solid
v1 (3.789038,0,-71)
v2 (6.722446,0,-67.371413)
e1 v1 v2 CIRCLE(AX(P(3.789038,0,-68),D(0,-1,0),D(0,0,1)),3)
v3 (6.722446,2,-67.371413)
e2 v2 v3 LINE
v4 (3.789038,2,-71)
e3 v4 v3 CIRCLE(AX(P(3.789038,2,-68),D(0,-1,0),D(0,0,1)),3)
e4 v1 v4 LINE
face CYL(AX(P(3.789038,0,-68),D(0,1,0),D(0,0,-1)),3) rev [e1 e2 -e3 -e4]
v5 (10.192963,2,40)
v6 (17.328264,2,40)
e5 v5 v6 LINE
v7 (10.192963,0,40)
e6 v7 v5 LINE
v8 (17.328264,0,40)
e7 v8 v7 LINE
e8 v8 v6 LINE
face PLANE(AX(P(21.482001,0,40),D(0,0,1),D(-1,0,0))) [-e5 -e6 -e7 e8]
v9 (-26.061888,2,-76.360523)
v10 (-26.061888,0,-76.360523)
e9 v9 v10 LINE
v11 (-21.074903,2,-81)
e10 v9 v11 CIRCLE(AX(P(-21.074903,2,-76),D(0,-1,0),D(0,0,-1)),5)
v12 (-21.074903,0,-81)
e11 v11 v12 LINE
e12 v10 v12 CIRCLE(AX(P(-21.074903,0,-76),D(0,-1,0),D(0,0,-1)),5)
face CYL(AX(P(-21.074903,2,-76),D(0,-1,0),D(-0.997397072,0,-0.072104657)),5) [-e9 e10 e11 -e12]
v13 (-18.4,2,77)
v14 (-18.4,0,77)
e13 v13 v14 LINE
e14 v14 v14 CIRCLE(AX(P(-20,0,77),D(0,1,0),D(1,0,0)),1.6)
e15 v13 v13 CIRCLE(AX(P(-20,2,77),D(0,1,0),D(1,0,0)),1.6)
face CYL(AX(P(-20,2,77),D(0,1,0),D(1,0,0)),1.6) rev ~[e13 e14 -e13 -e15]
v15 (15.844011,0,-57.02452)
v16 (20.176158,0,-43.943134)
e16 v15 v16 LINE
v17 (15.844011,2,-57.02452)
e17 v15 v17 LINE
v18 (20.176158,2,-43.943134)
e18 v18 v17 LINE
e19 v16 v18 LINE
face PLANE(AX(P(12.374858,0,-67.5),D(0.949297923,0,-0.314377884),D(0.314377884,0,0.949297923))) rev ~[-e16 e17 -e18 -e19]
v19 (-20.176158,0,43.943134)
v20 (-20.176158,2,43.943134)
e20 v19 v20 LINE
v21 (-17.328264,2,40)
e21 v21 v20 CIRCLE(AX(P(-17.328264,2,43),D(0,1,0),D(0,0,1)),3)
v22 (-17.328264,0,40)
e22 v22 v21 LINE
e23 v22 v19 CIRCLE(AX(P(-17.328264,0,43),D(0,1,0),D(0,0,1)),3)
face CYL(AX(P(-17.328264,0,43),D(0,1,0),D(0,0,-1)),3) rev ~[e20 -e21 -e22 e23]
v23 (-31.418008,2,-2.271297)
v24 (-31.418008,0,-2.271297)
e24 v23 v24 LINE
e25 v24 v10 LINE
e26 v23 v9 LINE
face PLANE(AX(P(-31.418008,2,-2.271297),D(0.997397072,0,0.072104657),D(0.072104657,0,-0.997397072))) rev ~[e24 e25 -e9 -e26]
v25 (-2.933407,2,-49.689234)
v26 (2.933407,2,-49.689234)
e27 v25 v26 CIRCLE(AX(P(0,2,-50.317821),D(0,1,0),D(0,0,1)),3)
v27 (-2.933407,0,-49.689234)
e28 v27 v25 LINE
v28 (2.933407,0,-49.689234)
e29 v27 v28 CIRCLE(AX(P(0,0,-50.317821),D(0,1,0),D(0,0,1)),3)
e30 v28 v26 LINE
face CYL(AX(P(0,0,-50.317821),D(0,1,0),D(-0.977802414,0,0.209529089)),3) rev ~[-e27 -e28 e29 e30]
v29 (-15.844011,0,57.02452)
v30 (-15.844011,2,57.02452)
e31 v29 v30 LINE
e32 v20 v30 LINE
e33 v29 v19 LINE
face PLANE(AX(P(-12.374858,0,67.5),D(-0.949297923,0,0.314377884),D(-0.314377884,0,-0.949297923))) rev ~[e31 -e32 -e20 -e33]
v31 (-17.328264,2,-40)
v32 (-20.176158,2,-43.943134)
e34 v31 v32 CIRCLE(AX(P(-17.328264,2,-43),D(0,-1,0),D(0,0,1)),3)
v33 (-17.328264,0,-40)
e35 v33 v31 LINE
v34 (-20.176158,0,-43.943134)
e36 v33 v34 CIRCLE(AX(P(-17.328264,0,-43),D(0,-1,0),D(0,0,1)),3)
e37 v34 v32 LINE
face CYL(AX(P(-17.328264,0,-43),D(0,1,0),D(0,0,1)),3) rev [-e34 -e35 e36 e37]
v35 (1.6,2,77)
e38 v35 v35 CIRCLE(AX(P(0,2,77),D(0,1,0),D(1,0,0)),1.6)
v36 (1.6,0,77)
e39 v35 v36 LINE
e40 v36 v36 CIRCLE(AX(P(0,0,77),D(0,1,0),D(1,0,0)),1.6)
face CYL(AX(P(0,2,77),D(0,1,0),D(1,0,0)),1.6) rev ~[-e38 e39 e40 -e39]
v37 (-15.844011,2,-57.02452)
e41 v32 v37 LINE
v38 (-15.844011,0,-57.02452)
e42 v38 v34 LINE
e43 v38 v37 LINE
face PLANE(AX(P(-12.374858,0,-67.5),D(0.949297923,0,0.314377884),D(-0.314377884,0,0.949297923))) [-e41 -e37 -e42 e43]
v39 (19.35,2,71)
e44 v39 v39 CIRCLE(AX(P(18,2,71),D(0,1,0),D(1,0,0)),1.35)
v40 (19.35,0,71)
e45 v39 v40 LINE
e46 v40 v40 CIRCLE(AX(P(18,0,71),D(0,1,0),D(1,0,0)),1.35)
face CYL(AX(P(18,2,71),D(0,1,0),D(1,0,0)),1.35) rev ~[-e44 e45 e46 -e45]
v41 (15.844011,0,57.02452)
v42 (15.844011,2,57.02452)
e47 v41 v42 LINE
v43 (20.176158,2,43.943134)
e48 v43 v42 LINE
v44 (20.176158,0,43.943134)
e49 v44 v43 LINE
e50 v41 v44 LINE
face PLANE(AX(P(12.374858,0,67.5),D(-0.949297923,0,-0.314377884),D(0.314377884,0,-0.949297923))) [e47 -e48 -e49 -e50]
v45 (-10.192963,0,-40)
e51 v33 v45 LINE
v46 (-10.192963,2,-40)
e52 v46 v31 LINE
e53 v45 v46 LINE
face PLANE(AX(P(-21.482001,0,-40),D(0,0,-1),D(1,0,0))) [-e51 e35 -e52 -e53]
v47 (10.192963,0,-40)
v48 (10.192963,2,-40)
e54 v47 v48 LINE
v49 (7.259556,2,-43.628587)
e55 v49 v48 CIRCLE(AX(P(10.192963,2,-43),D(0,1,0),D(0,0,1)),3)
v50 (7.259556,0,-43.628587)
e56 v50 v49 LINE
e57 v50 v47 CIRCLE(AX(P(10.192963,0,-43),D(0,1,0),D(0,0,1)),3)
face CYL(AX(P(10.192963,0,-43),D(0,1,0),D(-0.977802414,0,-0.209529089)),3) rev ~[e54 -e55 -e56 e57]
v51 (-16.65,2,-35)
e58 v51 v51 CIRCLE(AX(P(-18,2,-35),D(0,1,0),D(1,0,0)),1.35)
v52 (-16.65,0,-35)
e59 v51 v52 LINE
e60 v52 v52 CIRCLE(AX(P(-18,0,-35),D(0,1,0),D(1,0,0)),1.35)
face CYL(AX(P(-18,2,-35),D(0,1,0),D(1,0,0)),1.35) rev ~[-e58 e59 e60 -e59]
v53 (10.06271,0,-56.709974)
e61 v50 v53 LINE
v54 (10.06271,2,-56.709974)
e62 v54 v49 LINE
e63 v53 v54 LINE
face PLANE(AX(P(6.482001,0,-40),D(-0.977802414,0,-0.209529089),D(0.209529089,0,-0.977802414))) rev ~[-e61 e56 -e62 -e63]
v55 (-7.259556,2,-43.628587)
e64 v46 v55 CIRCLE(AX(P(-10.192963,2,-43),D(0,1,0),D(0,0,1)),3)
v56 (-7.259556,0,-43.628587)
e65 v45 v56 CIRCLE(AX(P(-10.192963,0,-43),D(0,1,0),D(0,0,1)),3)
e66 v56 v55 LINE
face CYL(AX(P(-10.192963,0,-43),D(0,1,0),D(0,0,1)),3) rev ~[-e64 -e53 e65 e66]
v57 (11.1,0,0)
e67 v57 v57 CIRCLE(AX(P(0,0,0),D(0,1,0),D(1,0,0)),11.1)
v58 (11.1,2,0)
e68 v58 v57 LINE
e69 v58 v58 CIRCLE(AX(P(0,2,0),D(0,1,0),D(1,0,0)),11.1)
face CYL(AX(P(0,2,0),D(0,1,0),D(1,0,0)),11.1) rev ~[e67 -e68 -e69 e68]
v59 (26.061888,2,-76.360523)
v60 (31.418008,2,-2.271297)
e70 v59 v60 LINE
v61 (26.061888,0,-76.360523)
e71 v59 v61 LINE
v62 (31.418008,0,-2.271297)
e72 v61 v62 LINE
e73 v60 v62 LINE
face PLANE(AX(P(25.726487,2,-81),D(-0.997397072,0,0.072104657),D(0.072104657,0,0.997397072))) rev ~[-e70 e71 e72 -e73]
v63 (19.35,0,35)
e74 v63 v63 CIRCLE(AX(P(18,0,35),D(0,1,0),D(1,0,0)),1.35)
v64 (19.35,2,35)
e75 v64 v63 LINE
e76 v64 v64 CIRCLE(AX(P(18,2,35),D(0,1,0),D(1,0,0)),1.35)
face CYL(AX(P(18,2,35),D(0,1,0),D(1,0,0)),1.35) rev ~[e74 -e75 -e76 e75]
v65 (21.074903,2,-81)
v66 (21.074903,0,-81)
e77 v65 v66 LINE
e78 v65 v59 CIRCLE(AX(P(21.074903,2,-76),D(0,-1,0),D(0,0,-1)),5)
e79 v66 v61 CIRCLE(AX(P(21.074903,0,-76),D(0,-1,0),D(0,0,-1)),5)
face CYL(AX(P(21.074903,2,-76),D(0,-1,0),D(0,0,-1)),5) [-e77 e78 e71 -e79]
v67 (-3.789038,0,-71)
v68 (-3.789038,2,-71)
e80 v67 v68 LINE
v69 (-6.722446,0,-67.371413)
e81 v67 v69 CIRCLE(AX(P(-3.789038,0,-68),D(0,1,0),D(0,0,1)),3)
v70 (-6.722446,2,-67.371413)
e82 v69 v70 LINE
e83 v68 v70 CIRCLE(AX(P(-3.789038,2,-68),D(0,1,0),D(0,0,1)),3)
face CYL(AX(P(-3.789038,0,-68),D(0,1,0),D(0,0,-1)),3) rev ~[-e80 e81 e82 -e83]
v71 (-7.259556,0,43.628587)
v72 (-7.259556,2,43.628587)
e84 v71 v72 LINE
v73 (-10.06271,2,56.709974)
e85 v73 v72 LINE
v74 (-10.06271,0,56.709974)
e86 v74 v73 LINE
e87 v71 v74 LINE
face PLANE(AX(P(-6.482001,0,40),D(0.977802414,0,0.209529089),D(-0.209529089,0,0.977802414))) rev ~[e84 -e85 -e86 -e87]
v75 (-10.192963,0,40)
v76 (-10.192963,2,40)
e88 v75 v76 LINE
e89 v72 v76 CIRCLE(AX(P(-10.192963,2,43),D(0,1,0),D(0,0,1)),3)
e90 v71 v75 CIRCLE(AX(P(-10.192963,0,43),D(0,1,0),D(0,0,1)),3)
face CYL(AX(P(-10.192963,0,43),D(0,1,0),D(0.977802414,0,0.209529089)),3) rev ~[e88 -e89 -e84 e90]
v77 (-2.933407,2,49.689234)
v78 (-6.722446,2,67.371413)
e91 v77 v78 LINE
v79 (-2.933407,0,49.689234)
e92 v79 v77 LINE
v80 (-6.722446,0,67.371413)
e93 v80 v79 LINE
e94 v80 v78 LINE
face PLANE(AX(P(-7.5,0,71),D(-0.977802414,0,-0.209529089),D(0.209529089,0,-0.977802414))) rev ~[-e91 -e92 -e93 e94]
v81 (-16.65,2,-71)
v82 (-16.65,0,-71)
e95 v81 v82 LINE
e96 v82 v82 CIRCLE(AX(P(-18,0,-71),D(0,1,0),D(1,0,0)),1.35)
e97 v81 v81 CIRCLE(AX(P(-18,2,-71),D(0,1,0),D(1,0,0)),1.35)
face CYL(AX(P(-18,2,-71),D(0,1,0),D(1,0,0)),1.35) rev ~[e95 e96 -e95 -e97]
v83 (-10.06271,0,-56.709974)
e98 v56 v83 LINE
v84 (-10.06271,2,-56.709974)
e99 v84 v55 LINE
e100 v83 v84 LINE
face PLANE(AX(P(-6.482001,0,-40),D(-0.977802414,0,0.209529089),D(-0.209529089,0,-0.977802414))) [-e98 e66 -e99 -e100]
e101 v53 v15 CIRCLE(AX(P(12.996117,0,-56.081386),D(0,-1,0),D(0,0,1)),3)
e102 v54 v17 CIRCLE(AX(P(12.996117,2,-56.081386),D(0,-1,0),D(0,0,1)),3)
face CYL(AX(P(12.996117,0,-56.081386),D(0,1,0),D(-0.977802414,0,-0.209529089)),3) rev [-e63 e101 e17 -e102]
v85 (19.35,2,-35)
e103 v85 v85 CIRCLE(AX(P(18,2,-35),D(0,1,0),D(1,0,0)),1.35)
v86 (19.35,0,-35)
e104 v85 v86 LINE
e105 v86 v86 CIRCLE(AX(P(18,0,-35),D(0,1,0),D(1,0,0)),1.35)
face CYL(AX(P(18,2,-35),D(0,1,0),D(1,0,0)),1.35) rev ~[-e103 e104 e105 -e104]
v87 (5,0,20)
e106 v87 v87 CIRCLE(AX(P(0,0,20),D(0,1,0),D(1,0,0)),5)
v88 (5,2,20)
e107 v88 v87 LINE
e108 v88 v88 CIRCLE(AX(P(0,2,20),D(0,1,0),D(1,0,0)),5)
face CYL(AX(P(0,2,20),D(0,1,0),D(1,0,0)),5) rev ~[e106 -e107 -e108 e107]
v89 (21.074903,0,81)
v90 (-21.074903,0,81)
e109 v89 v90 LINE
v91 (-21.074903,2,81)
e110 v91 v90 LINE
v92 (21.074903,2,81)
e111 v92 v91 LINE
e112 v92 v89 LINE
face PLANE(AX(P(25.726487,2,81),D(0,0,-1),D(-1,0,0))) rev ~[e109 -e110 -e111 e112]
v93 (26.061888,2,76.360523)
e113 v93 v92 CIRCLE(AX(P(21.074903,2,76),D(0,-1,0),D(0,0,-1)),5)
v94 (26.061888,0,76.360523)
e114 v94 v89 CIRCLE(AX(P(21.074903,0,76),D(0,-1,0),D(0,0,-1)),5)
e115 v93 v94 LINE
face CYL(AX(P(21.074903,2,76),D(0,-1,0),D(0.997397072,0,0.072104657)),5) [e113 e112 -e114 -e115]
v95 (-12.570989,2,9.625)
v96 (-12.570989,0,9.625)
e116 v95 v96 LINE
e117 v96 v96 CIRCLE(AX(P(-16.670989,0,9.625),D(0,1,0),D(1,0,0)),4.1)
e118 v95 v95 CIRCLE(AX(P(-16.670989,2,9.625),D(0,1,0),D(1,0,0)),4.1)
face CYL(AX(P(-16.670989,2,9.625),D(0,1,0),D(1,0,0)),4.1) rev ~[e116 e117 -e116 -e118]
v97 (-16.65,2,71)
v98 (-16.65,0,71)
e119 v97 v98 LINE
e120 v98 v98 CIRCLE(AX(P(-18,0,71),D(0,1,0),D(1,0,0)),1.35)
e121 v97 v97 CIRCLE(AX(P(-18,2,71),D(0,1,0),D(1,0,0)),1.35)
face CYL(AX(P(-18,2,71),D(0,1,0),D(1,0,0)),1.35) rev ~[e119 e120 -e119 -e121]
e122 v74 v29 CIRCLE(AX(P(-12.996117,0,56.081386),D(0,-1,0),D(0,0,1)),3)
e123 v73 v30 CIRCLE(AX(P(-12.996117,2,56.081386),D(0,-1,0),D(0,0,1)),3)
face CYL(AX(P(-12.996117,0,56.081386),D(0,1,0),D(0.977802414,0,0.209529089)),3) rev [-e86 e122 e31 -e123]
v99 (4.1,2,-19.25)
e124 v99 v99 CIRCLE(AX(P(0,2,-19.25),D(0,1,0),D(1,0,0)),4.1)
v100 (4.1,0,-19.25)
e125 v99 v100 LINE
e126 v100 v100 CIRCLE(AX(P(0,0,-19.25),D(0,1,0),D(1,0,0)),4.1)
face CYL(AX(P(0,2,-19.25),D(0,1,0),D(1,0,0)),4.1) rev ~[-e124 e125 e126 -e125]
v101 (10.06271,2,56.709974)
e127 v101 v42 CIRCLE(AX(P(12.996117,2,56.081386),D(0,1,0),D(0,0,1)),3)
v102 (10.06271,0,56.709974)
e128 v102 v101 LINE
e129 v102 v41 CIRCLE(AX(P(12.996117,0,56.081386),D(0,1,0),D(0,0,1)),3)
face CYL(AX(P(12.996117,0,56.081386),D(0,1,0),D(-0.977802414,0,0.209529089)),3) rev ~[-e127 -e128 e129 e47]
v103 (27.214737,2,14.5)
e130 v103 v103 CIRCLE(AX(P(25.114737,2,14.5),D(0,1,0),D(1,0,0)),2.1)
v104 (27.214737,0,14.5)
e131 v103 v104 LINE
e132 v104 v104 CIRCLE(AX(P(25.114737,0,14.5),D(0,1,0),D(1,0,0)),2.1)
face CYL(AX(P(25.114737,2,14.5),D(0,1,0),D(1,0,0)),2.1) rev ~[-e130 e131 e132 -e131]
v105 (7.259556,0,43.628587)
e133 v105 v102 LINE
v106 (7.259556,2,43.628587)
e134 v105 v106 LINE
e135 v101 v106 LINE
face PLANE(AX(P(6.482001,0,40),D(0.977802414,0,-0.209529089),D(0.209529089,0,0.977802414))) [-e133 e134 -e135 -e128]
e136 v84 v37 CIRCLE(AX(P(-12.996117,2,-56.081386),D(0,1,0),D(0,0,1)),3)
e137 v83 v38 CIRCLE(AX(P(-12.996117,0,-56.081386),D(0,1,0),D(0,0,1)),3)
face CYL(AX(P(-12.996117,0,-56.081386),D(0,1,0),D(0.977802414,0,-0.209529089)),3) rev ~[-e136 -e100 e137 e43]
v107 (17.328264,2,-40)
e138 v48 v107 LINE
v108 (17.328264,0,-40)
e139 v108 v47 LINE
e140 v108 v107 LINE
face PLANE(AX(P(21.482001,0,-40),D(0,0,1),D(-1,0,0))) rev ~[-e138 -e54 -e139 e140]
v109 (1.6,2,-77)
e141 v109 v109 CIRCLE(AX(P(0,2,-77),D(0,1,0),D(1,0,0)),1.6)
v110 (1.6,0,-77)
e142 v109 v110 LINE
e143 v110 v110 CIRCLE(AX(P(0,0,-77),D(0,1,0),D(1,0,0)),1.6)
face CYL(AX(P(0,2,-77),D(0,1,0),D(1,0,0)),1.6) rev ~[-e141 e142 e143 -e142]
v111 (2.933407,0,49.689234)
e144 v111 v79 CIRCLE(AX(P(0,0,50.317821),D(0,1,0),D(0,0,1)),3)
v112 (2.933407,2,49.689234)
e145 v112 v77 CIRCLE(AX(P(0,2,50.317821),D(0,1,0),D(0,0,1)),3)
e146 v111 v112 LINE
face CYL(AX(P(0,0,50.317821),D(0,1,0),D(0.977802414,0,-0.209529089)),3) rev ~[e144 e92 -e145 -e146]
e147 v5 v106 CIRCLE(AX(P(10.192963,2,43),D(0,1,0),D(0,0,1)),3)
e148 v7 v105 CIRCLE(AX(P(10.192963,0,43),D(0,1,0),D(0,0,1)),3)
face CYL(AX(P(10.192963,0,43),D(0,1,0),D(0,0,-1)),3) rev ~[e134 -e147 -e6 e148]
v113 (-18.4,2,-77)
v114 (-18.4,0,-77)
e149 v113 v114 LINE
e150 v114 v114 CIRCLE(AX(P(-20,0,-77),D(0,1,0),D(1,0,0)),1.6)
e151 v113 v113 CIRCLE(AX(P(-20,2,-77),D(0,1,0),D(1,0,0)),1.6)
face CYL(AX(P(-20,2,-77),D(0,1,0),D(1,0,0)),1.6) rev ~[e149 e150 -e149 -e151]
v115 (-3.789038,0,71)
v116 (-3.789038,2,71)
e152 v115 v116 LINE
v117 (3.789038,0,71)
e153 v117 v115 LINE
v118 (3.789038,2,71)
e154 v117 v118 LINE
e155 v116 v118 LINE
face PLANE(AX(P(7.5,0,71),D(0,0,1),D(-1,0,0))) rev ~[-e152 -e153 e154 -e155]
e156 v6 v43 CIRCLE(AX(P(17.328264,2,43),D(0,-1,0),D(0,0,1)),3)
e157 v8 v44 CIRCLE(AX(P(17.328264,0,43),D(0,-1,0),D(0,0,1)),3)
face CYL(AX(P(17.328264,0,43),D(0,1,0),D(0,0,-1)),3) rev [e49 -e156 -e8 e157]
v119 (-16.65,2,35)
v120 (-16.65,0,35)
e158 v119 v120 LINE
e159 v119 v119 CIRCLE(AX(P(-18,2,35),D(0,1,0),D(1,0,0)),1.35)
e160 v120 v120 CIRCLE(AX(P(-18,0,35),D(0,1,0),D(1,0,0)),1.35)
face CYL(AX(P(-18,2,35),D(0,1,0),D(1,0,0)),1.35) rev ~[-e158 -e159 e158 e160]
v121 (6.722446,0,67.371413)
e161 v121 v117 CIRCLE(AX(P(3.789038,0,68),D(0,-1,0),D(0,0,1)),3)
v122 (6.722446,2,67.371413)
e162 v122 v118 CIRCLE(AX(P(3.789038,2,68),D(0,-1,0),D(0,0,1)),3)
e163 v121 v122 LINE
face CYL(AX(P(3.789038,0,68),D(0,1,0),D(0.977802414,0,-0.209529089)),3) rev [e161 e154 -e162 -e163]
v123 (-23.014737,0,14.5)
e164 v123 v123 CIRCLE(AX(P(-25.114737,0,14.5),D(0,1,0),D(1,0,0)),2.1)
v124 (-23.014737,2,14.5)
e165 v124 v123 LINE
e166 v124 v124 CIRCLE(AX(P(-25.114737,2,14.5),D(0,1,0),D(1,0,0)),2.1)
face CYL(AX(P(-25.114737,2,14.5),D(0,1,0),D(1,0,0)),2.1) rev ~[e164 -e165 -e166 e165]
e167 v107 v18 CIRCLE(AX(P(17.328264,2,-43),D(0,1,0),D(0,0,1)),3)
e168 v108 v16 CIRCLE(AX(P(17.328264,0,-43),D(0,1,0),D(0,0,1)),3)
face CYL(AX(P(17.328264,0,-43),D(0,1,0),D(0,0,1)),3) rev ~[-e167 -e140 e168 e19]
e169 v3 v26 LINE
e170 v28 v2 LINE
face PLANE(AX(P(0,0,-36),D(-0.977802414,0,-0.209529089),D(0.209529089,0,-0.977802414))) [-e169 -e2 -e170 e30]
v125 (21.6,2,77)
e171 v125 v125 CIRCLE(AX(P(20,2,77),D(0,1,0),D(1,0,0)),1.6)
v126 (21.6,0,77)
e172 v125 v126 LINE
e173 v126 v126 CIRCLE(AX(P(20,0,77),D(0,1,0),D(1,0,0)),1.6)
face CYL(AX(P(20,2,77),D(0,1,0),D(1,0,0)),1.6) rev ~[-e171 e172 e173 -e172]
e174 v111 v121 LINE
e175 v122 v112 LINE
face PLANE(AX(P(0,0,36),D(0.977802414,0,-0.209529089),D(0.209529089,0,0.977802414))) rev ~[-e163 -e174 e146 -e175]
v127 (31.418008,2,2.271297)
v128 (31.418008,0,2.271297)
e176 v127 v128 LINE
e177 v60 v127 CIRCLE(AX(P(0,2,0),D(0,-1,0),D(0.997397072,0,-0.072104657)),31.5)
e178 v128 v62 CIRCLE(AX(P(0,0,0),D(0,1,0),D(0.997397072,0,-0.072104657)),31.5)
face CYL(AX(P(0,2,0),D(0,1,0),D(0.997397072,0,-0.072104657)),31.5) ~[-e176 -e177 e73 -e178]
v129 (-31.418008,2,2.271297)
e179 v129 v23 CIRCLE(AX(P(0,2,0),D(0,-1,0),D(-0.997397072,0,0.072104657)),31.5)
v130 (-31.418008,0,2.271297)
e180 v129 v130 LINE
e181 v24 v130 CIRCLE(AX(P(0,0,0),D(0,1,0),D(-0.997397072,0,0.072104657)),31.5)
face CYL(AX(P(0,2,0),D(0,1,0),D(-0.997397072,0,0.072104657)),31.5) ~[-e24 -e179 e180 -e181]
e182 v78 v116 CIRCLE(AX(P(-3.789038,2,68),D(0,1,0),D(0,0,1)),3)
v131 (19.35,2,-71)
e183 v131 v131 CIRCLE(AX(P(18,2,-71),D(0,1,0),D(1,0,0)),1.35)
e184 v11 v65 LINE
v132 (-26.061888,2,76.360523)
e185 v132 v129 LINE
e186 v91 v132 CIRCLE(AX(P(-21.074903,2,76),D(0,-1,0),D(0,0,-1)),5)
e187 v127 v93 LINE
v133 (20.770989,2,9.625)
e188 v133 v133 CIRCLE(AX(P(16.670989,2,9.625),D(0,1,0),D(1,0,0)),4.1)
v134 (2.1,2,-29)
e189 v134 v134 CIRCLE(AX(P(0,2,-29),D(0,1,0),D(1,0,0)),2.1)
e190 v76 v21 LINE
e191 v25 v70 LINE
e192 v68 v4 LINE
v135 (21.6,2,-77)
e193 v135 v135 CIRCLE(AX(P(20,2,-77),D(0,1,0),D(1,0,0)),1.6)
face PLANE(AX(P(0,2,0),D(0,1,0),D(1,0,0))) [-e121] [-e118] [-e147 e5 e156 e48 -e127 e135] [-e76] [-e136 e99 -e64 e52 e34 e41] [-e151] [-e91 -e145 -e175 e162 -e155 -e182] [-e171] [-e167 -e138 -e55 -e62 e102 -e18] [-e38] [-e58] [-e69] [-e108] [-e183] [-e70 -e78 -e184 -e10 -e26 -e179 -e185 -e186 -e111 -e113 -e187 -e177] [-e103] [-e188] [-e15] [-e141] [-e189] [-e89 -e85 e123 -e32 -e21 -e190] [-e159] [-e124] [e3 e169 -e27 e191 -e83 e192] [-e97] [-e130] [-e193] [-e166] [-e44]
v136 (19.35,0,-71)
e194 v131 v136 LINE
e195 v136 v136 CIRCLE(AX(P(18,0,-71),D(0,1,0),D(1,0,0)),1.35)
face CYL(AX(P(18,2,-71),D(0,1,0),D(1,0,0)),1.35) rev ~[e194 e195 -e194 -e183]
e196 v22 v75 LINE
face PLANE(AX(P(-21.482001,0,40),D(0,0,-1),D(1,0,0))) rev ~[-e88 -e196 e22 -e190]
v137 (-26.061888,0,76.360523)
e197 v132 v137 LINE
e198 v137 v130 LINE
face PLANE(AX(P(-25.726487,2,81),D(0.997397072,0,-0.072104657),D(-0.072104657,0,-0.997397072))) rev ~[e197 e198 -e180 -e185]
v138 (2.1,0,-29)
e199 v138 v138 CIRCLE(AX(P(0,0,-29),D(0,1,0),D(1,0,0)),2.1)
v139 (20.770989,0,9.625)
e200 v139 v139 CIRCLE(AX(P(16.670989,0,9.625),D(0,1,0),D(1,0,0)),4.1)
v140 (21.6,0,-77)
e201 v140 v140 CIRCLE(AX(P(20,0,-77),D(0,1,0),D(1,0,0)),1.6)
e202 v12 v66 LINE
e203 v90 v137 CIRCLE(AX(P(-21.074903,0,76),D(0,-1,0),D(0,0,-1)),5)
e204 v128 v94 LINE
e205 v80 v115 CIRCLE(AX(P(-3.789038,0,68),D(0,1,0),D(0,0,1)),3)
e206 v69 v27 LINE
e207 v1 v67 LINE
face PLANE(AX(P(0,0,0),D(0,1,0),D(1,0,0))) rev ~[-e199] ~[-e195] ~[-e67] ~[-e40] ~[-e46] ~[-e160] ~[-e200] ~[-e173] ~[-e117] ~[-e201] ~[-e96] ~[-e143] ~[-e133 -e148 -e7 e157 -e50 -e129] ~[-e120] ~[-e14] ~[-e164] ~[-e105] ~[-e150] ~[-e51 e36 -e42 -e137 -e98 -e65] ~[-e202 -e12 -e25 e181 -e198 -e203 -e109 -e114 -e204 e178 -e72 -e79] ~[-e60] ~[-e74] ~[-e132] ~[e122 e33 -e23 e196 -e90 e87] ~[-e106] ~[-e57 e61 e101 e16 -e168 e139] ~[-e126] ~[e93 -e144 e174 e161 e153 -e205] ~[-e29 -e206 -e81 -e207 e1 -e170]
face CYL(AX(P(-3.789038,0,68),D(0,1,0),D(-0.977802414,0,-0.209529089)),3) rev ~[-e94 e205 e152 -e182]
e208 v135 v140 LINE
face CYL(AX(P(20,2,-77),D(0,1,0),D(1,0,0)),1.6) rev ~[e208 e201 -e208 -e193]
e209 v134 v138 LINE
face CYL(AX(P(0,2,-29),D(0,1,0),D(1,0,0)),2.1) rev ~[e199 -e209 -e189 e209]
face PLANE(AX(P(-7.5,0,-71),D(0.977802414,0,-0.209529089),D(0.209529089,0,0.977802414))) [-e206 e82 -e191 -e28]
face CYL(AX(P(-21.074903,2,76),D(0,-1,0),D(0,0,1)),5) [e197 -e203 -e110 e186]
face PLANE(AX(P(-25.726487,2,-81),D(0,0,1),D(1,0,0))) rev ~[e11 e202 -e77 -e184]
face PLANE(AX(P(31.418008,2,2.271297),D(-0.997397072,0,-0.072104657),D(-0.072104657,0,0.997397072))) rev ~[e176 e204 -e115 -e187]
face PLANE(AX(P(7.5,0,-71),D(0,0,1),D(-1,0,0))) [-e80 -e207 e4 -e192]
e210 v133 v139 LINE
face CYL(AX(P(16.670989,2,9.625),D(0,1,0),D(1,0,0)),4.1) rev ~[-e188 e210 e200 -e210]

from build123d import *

# Parameters (mm, degrees)
SKETCH_1_W          = 150
SKETCH_1_H          = 180
SKETCH_1_R          = 2.1
EXTRUDE_1_DEPTH     = 2
SKETCH_2_R          = 11.1
SKETCH_2_R_2        = 2.1
SKETCH_2_R_3        = 4.1
SKETCH_2_R_4        = 5
CUT_EXTRUDE_1_DEPTH = 2
SKETCH_3_R          = 1.6
CUT_EXTRUDE_2_DEPTH = 3
SKETCH_4_W          = 150
SKETCH_4_H          = 180
CUT_EXTRUDE_3_DEPTH = 3
FILLET_1_R          = 5
SKETCH_7_R          = 1.35
CUT_EXTRUDE_5_DEPTH = 3
CUT_EXTRUDE_6_DEPTH = 3
FILLET_2_R          = 3


with BuildPart() as part:
    # 草图1 → 凸台-拉伸1 (new body)
    with BuildSketch(Plane(origin=(0, 0, 0), x_dir=(1, 0, 0), z_dir=(0, 1, 0))):
        Rectangle(SKETCH_1_W, SKETCH_1_H)
        with Locations((-70, 85)):
            Circle(SKETCH_1_R, mode=Mode.SUBTRACT)
        with Locations((-50, 85)):
            Circle(SKETCH_1_R, mode=Mode.SUBTRACT)
        with Locations((-50, 65)):
            Circle(SKETCH_1_R, mode=Mode.SUBTRACT)
        with Locations((-70, 65)):
            Circle(SKETCH_1_R, mode=Mode.SUBTRACT)
        with Locations((70, 65)):
            Circle(SKETCH_1_R, mode=Mode.SUBTRACT)
        with Locations((50, 65)):
            Circle(SKETCH_1_R, mode=Mode.SUBTRACT)
        with Locations((50, 85)):
            Circle(SKETCH_1_R, mode=Mode.SUBTRACT)
        with Locations((70, 85)):
            Circle(SKETCH_1_R, mode=Mode.SUBTRACT)
        with Locations((70, -85)):
            Circle(SKETCH_1_R, mode=Mode.SUBTRACT)
        with Locations((50, -85)):
            Circle(SKETCH_1_R, mode=Mode.SUBTRACT)
        with Locations((50, -65)):
            Circle(SKETCH_1_R, mode=Mode.SUBTRACT)
        with Locations((70, -65)):
            Circle(SKETCH_1_R, mode=Mode.SUBTRACT)
        with Locations((-70, -65)):
            Circle(SKETCH_1_R, mode=Mode.SUBTRACT)
        with Locations((-50, -65)):
            Circle(SKETCH_1_R, mode=Mode.SUBTRACT)
        with Locations((-50, -85)):
            Circle(SKETCH_1_R, mode=Mode.SUBTRACT)
        with Locations((-70, -85)):
            Circle(SKETCH_1_R, mode=Mode.SUBTRACT)
    extrude(amount=EXTRUDE_1_DEPTH)

    # 草图2 → 切除-拉伸1 (cut)
    with BuildSketch(Plane(origin=(0, 2, 0), x_dir=(1, 0, 0), z_dir=(0, 1, 0))):
        Circle(SKETCH_2_R)
        with Locations((0, 29)):
            Circle(SKETCH_2_R_2)
        with Locations((25.11473671, -14.5)):
            Circle(SKETCH_2_R_2)
        with Locations((-25.11473671, -14.5)):
            Circle(SKETCH_2_R_2)
        with Locations((0, 19.25)):
            Circle(SKETCH_2_R_3)
        with Locations((16.670989023, -9.625)):
            Circle(SKETCH_2_R_3)
        with Locations((-16.670989023, -9.625)):
            Circle(SKETCH_2_R_3)
        with Locations((0, -20)):
            Circle(SKETCH_2_R_4)
    extrude(amount=-CUT_EXTRUDE_1_DEPTH, mode=Mode.SUBTRACT)

    # 草图3 → 切除-拉伸2 (cut, through all)
    with BuildSketch(Plane(origin=(0, 2, 0), x_dir=(1, 0, 0), z_dir=(0, 1, 0))):
        with Locations((-20, 77)):
            Circle(SKETCH_3_R)
        with Locations((0, 77)):
            Circle(SKETCH_3_R)
        with Locations((20, 77)):
            Circle(SKETCH_3_R)
        with Locations((20, -77)):
            Circle(SKETCH_3_R)
        with Locations((0, -77)):
            Circle(SKETCH_3_R)
        with Locations((-20, -77)):
            Circle(SKETCH_3_R)
    extrude(amount=-CUT_EXTRUDE_2_DEPTH, mode=Mode.SUBTRACT)

    # 草图4 → 切除-拉伸3 (cut, through all)
    with BuildSketch(Plane(origin=(0, 2, 0), x_dir=(1, 0, 0), z_dir=(0, 1, 0))):
        Rectangle(SKETCH_4_W, SKETCH_4_H)
        with BuildLine():
            Line((25.726487009, -81), (-25.726487009, -81))
            Line((-25.726487009, -81), (-31.418007756, -2.271296687))
            ThreePointArc((-31.418007756, -2.271296687), (-31.5, 0), (-31.418007756, 2.271296687))
            Line((-31.418007756, 2.271296687), (-25.726487009, 81))
            Line((-25.726487009, 81), (25.726487009, 81))
            Line((25.726487009, 81), (31.418007756, 2.271296687))
            ThreePointArc((31.418007756, 2.271296687), (31.5, 0), (31.418007756, -2.271296687))
            Line((31.418007756, -2.271296687), (25.726487009, -81))
        make_face(mode=Mode.SUBTRACT)
    extrude(amount=-CUT_EXTRUDE_3_DEPTH, mode=Mode.SUBTRACT)

    # 圆角1
    fillet_1_edges = [part.edges().sort_by_distance(p)[0] for p in [
        (25.726487009, 1, 81),
        (-25.726487009, 1, 81),
        (-25.726487009, 1, -81),
        (25.726487009, 1, -81),
    ]]
    fillet(fillet_1_edges, radius=FILLET_1_R)

    # 草图7 → 切除-拉伸5 (cut, through all)
    with BuildSketch(Plane(origin=(0, 2, 0), x_dir=(1, 0, 0), z_dir=(0, 1, 0))):
        with Locations((-18, 71)):
            Circle(SKETCH_7_R)
        with Locations((18, 71)):
            Circle(SKETCH_7_R)
        with Locations((18, 35)):
            Circle(SKETCH_7_R)
        with Locations((-18, 35)):
            Circle(SKETCH_7_R)
        with Locations((-18, -35)):
            Circle(SKETCH_7_R)
        with Locations((18, -35)):
            Circle(SKETCH_7_R)
        with Locations((18, -71)):
            Circle(SKETCH_7_R)
        with Locations((-18, -71)):
            Circle(SKETCH_7_R)
    extrude(amount=-CUT_EXTRUDE_5_DEPTH, mode=Mode.SUBTRACT)

    # 草图8 → 切除-拉伸6 (cut, through all)
    with BuildSketch(Plane.XZ):
        Polygon((7.5, 71), (-7.5, 71), (0, 36), align=None)
        Polygon((-12.374858275, 67.5), (-21.482001132, 40), (-6.482001132, 40), align=None)
        Polygon((21.482001132, 40), (6.482001132, 40), (12.374858275, 67.5), align=None)
        Polygon((12.374858275, -67.5), (21.482001132, -40), (6.482001132, -40), align=None)
        Polygon((7.5, -71), (-7.5, -71), (0, -36), align=None)
        Polygon((-21.482001132, -40), (-6.482001132, -40), (-12.374858275, -67.5), align=None)
    extrude(amount=-CUT_EXTRUDE_6_DEPTH, mode=Mode.SUBTRACT)

    # 圆角2
    fillet_2_edges = [part.edges().sort_by_distance(p)[0] for p in [
        (-12.374858275, 1, 67.5),
        (-6.482001132, 1, 40),
        (-21.482001132, 1, 40),
        (12.374858275, 1, 67.5),
        (21.482001132, 1, 40),
        (6.482001132, 1, 40),
        (0, 1, -36),
        (7.5, 1, -71),
        (-7.5, 1, -71),
        (12.374858275, 1, -67.5),
        (6.482001132, 1, -40),
        (21.482001132, 1, -40),
        (-12.374858275, 1, -67.5),
        (-21.482001132, 1, -40),
        (-6.482001132, 1, -40),
        (0, 1, 36),
        (-7.5, 1, 71),
        (7.5, 1, 71),
    ]]
    fillet(fillet_2_edges, radius=FILLET_2_R)


solid = part.part
